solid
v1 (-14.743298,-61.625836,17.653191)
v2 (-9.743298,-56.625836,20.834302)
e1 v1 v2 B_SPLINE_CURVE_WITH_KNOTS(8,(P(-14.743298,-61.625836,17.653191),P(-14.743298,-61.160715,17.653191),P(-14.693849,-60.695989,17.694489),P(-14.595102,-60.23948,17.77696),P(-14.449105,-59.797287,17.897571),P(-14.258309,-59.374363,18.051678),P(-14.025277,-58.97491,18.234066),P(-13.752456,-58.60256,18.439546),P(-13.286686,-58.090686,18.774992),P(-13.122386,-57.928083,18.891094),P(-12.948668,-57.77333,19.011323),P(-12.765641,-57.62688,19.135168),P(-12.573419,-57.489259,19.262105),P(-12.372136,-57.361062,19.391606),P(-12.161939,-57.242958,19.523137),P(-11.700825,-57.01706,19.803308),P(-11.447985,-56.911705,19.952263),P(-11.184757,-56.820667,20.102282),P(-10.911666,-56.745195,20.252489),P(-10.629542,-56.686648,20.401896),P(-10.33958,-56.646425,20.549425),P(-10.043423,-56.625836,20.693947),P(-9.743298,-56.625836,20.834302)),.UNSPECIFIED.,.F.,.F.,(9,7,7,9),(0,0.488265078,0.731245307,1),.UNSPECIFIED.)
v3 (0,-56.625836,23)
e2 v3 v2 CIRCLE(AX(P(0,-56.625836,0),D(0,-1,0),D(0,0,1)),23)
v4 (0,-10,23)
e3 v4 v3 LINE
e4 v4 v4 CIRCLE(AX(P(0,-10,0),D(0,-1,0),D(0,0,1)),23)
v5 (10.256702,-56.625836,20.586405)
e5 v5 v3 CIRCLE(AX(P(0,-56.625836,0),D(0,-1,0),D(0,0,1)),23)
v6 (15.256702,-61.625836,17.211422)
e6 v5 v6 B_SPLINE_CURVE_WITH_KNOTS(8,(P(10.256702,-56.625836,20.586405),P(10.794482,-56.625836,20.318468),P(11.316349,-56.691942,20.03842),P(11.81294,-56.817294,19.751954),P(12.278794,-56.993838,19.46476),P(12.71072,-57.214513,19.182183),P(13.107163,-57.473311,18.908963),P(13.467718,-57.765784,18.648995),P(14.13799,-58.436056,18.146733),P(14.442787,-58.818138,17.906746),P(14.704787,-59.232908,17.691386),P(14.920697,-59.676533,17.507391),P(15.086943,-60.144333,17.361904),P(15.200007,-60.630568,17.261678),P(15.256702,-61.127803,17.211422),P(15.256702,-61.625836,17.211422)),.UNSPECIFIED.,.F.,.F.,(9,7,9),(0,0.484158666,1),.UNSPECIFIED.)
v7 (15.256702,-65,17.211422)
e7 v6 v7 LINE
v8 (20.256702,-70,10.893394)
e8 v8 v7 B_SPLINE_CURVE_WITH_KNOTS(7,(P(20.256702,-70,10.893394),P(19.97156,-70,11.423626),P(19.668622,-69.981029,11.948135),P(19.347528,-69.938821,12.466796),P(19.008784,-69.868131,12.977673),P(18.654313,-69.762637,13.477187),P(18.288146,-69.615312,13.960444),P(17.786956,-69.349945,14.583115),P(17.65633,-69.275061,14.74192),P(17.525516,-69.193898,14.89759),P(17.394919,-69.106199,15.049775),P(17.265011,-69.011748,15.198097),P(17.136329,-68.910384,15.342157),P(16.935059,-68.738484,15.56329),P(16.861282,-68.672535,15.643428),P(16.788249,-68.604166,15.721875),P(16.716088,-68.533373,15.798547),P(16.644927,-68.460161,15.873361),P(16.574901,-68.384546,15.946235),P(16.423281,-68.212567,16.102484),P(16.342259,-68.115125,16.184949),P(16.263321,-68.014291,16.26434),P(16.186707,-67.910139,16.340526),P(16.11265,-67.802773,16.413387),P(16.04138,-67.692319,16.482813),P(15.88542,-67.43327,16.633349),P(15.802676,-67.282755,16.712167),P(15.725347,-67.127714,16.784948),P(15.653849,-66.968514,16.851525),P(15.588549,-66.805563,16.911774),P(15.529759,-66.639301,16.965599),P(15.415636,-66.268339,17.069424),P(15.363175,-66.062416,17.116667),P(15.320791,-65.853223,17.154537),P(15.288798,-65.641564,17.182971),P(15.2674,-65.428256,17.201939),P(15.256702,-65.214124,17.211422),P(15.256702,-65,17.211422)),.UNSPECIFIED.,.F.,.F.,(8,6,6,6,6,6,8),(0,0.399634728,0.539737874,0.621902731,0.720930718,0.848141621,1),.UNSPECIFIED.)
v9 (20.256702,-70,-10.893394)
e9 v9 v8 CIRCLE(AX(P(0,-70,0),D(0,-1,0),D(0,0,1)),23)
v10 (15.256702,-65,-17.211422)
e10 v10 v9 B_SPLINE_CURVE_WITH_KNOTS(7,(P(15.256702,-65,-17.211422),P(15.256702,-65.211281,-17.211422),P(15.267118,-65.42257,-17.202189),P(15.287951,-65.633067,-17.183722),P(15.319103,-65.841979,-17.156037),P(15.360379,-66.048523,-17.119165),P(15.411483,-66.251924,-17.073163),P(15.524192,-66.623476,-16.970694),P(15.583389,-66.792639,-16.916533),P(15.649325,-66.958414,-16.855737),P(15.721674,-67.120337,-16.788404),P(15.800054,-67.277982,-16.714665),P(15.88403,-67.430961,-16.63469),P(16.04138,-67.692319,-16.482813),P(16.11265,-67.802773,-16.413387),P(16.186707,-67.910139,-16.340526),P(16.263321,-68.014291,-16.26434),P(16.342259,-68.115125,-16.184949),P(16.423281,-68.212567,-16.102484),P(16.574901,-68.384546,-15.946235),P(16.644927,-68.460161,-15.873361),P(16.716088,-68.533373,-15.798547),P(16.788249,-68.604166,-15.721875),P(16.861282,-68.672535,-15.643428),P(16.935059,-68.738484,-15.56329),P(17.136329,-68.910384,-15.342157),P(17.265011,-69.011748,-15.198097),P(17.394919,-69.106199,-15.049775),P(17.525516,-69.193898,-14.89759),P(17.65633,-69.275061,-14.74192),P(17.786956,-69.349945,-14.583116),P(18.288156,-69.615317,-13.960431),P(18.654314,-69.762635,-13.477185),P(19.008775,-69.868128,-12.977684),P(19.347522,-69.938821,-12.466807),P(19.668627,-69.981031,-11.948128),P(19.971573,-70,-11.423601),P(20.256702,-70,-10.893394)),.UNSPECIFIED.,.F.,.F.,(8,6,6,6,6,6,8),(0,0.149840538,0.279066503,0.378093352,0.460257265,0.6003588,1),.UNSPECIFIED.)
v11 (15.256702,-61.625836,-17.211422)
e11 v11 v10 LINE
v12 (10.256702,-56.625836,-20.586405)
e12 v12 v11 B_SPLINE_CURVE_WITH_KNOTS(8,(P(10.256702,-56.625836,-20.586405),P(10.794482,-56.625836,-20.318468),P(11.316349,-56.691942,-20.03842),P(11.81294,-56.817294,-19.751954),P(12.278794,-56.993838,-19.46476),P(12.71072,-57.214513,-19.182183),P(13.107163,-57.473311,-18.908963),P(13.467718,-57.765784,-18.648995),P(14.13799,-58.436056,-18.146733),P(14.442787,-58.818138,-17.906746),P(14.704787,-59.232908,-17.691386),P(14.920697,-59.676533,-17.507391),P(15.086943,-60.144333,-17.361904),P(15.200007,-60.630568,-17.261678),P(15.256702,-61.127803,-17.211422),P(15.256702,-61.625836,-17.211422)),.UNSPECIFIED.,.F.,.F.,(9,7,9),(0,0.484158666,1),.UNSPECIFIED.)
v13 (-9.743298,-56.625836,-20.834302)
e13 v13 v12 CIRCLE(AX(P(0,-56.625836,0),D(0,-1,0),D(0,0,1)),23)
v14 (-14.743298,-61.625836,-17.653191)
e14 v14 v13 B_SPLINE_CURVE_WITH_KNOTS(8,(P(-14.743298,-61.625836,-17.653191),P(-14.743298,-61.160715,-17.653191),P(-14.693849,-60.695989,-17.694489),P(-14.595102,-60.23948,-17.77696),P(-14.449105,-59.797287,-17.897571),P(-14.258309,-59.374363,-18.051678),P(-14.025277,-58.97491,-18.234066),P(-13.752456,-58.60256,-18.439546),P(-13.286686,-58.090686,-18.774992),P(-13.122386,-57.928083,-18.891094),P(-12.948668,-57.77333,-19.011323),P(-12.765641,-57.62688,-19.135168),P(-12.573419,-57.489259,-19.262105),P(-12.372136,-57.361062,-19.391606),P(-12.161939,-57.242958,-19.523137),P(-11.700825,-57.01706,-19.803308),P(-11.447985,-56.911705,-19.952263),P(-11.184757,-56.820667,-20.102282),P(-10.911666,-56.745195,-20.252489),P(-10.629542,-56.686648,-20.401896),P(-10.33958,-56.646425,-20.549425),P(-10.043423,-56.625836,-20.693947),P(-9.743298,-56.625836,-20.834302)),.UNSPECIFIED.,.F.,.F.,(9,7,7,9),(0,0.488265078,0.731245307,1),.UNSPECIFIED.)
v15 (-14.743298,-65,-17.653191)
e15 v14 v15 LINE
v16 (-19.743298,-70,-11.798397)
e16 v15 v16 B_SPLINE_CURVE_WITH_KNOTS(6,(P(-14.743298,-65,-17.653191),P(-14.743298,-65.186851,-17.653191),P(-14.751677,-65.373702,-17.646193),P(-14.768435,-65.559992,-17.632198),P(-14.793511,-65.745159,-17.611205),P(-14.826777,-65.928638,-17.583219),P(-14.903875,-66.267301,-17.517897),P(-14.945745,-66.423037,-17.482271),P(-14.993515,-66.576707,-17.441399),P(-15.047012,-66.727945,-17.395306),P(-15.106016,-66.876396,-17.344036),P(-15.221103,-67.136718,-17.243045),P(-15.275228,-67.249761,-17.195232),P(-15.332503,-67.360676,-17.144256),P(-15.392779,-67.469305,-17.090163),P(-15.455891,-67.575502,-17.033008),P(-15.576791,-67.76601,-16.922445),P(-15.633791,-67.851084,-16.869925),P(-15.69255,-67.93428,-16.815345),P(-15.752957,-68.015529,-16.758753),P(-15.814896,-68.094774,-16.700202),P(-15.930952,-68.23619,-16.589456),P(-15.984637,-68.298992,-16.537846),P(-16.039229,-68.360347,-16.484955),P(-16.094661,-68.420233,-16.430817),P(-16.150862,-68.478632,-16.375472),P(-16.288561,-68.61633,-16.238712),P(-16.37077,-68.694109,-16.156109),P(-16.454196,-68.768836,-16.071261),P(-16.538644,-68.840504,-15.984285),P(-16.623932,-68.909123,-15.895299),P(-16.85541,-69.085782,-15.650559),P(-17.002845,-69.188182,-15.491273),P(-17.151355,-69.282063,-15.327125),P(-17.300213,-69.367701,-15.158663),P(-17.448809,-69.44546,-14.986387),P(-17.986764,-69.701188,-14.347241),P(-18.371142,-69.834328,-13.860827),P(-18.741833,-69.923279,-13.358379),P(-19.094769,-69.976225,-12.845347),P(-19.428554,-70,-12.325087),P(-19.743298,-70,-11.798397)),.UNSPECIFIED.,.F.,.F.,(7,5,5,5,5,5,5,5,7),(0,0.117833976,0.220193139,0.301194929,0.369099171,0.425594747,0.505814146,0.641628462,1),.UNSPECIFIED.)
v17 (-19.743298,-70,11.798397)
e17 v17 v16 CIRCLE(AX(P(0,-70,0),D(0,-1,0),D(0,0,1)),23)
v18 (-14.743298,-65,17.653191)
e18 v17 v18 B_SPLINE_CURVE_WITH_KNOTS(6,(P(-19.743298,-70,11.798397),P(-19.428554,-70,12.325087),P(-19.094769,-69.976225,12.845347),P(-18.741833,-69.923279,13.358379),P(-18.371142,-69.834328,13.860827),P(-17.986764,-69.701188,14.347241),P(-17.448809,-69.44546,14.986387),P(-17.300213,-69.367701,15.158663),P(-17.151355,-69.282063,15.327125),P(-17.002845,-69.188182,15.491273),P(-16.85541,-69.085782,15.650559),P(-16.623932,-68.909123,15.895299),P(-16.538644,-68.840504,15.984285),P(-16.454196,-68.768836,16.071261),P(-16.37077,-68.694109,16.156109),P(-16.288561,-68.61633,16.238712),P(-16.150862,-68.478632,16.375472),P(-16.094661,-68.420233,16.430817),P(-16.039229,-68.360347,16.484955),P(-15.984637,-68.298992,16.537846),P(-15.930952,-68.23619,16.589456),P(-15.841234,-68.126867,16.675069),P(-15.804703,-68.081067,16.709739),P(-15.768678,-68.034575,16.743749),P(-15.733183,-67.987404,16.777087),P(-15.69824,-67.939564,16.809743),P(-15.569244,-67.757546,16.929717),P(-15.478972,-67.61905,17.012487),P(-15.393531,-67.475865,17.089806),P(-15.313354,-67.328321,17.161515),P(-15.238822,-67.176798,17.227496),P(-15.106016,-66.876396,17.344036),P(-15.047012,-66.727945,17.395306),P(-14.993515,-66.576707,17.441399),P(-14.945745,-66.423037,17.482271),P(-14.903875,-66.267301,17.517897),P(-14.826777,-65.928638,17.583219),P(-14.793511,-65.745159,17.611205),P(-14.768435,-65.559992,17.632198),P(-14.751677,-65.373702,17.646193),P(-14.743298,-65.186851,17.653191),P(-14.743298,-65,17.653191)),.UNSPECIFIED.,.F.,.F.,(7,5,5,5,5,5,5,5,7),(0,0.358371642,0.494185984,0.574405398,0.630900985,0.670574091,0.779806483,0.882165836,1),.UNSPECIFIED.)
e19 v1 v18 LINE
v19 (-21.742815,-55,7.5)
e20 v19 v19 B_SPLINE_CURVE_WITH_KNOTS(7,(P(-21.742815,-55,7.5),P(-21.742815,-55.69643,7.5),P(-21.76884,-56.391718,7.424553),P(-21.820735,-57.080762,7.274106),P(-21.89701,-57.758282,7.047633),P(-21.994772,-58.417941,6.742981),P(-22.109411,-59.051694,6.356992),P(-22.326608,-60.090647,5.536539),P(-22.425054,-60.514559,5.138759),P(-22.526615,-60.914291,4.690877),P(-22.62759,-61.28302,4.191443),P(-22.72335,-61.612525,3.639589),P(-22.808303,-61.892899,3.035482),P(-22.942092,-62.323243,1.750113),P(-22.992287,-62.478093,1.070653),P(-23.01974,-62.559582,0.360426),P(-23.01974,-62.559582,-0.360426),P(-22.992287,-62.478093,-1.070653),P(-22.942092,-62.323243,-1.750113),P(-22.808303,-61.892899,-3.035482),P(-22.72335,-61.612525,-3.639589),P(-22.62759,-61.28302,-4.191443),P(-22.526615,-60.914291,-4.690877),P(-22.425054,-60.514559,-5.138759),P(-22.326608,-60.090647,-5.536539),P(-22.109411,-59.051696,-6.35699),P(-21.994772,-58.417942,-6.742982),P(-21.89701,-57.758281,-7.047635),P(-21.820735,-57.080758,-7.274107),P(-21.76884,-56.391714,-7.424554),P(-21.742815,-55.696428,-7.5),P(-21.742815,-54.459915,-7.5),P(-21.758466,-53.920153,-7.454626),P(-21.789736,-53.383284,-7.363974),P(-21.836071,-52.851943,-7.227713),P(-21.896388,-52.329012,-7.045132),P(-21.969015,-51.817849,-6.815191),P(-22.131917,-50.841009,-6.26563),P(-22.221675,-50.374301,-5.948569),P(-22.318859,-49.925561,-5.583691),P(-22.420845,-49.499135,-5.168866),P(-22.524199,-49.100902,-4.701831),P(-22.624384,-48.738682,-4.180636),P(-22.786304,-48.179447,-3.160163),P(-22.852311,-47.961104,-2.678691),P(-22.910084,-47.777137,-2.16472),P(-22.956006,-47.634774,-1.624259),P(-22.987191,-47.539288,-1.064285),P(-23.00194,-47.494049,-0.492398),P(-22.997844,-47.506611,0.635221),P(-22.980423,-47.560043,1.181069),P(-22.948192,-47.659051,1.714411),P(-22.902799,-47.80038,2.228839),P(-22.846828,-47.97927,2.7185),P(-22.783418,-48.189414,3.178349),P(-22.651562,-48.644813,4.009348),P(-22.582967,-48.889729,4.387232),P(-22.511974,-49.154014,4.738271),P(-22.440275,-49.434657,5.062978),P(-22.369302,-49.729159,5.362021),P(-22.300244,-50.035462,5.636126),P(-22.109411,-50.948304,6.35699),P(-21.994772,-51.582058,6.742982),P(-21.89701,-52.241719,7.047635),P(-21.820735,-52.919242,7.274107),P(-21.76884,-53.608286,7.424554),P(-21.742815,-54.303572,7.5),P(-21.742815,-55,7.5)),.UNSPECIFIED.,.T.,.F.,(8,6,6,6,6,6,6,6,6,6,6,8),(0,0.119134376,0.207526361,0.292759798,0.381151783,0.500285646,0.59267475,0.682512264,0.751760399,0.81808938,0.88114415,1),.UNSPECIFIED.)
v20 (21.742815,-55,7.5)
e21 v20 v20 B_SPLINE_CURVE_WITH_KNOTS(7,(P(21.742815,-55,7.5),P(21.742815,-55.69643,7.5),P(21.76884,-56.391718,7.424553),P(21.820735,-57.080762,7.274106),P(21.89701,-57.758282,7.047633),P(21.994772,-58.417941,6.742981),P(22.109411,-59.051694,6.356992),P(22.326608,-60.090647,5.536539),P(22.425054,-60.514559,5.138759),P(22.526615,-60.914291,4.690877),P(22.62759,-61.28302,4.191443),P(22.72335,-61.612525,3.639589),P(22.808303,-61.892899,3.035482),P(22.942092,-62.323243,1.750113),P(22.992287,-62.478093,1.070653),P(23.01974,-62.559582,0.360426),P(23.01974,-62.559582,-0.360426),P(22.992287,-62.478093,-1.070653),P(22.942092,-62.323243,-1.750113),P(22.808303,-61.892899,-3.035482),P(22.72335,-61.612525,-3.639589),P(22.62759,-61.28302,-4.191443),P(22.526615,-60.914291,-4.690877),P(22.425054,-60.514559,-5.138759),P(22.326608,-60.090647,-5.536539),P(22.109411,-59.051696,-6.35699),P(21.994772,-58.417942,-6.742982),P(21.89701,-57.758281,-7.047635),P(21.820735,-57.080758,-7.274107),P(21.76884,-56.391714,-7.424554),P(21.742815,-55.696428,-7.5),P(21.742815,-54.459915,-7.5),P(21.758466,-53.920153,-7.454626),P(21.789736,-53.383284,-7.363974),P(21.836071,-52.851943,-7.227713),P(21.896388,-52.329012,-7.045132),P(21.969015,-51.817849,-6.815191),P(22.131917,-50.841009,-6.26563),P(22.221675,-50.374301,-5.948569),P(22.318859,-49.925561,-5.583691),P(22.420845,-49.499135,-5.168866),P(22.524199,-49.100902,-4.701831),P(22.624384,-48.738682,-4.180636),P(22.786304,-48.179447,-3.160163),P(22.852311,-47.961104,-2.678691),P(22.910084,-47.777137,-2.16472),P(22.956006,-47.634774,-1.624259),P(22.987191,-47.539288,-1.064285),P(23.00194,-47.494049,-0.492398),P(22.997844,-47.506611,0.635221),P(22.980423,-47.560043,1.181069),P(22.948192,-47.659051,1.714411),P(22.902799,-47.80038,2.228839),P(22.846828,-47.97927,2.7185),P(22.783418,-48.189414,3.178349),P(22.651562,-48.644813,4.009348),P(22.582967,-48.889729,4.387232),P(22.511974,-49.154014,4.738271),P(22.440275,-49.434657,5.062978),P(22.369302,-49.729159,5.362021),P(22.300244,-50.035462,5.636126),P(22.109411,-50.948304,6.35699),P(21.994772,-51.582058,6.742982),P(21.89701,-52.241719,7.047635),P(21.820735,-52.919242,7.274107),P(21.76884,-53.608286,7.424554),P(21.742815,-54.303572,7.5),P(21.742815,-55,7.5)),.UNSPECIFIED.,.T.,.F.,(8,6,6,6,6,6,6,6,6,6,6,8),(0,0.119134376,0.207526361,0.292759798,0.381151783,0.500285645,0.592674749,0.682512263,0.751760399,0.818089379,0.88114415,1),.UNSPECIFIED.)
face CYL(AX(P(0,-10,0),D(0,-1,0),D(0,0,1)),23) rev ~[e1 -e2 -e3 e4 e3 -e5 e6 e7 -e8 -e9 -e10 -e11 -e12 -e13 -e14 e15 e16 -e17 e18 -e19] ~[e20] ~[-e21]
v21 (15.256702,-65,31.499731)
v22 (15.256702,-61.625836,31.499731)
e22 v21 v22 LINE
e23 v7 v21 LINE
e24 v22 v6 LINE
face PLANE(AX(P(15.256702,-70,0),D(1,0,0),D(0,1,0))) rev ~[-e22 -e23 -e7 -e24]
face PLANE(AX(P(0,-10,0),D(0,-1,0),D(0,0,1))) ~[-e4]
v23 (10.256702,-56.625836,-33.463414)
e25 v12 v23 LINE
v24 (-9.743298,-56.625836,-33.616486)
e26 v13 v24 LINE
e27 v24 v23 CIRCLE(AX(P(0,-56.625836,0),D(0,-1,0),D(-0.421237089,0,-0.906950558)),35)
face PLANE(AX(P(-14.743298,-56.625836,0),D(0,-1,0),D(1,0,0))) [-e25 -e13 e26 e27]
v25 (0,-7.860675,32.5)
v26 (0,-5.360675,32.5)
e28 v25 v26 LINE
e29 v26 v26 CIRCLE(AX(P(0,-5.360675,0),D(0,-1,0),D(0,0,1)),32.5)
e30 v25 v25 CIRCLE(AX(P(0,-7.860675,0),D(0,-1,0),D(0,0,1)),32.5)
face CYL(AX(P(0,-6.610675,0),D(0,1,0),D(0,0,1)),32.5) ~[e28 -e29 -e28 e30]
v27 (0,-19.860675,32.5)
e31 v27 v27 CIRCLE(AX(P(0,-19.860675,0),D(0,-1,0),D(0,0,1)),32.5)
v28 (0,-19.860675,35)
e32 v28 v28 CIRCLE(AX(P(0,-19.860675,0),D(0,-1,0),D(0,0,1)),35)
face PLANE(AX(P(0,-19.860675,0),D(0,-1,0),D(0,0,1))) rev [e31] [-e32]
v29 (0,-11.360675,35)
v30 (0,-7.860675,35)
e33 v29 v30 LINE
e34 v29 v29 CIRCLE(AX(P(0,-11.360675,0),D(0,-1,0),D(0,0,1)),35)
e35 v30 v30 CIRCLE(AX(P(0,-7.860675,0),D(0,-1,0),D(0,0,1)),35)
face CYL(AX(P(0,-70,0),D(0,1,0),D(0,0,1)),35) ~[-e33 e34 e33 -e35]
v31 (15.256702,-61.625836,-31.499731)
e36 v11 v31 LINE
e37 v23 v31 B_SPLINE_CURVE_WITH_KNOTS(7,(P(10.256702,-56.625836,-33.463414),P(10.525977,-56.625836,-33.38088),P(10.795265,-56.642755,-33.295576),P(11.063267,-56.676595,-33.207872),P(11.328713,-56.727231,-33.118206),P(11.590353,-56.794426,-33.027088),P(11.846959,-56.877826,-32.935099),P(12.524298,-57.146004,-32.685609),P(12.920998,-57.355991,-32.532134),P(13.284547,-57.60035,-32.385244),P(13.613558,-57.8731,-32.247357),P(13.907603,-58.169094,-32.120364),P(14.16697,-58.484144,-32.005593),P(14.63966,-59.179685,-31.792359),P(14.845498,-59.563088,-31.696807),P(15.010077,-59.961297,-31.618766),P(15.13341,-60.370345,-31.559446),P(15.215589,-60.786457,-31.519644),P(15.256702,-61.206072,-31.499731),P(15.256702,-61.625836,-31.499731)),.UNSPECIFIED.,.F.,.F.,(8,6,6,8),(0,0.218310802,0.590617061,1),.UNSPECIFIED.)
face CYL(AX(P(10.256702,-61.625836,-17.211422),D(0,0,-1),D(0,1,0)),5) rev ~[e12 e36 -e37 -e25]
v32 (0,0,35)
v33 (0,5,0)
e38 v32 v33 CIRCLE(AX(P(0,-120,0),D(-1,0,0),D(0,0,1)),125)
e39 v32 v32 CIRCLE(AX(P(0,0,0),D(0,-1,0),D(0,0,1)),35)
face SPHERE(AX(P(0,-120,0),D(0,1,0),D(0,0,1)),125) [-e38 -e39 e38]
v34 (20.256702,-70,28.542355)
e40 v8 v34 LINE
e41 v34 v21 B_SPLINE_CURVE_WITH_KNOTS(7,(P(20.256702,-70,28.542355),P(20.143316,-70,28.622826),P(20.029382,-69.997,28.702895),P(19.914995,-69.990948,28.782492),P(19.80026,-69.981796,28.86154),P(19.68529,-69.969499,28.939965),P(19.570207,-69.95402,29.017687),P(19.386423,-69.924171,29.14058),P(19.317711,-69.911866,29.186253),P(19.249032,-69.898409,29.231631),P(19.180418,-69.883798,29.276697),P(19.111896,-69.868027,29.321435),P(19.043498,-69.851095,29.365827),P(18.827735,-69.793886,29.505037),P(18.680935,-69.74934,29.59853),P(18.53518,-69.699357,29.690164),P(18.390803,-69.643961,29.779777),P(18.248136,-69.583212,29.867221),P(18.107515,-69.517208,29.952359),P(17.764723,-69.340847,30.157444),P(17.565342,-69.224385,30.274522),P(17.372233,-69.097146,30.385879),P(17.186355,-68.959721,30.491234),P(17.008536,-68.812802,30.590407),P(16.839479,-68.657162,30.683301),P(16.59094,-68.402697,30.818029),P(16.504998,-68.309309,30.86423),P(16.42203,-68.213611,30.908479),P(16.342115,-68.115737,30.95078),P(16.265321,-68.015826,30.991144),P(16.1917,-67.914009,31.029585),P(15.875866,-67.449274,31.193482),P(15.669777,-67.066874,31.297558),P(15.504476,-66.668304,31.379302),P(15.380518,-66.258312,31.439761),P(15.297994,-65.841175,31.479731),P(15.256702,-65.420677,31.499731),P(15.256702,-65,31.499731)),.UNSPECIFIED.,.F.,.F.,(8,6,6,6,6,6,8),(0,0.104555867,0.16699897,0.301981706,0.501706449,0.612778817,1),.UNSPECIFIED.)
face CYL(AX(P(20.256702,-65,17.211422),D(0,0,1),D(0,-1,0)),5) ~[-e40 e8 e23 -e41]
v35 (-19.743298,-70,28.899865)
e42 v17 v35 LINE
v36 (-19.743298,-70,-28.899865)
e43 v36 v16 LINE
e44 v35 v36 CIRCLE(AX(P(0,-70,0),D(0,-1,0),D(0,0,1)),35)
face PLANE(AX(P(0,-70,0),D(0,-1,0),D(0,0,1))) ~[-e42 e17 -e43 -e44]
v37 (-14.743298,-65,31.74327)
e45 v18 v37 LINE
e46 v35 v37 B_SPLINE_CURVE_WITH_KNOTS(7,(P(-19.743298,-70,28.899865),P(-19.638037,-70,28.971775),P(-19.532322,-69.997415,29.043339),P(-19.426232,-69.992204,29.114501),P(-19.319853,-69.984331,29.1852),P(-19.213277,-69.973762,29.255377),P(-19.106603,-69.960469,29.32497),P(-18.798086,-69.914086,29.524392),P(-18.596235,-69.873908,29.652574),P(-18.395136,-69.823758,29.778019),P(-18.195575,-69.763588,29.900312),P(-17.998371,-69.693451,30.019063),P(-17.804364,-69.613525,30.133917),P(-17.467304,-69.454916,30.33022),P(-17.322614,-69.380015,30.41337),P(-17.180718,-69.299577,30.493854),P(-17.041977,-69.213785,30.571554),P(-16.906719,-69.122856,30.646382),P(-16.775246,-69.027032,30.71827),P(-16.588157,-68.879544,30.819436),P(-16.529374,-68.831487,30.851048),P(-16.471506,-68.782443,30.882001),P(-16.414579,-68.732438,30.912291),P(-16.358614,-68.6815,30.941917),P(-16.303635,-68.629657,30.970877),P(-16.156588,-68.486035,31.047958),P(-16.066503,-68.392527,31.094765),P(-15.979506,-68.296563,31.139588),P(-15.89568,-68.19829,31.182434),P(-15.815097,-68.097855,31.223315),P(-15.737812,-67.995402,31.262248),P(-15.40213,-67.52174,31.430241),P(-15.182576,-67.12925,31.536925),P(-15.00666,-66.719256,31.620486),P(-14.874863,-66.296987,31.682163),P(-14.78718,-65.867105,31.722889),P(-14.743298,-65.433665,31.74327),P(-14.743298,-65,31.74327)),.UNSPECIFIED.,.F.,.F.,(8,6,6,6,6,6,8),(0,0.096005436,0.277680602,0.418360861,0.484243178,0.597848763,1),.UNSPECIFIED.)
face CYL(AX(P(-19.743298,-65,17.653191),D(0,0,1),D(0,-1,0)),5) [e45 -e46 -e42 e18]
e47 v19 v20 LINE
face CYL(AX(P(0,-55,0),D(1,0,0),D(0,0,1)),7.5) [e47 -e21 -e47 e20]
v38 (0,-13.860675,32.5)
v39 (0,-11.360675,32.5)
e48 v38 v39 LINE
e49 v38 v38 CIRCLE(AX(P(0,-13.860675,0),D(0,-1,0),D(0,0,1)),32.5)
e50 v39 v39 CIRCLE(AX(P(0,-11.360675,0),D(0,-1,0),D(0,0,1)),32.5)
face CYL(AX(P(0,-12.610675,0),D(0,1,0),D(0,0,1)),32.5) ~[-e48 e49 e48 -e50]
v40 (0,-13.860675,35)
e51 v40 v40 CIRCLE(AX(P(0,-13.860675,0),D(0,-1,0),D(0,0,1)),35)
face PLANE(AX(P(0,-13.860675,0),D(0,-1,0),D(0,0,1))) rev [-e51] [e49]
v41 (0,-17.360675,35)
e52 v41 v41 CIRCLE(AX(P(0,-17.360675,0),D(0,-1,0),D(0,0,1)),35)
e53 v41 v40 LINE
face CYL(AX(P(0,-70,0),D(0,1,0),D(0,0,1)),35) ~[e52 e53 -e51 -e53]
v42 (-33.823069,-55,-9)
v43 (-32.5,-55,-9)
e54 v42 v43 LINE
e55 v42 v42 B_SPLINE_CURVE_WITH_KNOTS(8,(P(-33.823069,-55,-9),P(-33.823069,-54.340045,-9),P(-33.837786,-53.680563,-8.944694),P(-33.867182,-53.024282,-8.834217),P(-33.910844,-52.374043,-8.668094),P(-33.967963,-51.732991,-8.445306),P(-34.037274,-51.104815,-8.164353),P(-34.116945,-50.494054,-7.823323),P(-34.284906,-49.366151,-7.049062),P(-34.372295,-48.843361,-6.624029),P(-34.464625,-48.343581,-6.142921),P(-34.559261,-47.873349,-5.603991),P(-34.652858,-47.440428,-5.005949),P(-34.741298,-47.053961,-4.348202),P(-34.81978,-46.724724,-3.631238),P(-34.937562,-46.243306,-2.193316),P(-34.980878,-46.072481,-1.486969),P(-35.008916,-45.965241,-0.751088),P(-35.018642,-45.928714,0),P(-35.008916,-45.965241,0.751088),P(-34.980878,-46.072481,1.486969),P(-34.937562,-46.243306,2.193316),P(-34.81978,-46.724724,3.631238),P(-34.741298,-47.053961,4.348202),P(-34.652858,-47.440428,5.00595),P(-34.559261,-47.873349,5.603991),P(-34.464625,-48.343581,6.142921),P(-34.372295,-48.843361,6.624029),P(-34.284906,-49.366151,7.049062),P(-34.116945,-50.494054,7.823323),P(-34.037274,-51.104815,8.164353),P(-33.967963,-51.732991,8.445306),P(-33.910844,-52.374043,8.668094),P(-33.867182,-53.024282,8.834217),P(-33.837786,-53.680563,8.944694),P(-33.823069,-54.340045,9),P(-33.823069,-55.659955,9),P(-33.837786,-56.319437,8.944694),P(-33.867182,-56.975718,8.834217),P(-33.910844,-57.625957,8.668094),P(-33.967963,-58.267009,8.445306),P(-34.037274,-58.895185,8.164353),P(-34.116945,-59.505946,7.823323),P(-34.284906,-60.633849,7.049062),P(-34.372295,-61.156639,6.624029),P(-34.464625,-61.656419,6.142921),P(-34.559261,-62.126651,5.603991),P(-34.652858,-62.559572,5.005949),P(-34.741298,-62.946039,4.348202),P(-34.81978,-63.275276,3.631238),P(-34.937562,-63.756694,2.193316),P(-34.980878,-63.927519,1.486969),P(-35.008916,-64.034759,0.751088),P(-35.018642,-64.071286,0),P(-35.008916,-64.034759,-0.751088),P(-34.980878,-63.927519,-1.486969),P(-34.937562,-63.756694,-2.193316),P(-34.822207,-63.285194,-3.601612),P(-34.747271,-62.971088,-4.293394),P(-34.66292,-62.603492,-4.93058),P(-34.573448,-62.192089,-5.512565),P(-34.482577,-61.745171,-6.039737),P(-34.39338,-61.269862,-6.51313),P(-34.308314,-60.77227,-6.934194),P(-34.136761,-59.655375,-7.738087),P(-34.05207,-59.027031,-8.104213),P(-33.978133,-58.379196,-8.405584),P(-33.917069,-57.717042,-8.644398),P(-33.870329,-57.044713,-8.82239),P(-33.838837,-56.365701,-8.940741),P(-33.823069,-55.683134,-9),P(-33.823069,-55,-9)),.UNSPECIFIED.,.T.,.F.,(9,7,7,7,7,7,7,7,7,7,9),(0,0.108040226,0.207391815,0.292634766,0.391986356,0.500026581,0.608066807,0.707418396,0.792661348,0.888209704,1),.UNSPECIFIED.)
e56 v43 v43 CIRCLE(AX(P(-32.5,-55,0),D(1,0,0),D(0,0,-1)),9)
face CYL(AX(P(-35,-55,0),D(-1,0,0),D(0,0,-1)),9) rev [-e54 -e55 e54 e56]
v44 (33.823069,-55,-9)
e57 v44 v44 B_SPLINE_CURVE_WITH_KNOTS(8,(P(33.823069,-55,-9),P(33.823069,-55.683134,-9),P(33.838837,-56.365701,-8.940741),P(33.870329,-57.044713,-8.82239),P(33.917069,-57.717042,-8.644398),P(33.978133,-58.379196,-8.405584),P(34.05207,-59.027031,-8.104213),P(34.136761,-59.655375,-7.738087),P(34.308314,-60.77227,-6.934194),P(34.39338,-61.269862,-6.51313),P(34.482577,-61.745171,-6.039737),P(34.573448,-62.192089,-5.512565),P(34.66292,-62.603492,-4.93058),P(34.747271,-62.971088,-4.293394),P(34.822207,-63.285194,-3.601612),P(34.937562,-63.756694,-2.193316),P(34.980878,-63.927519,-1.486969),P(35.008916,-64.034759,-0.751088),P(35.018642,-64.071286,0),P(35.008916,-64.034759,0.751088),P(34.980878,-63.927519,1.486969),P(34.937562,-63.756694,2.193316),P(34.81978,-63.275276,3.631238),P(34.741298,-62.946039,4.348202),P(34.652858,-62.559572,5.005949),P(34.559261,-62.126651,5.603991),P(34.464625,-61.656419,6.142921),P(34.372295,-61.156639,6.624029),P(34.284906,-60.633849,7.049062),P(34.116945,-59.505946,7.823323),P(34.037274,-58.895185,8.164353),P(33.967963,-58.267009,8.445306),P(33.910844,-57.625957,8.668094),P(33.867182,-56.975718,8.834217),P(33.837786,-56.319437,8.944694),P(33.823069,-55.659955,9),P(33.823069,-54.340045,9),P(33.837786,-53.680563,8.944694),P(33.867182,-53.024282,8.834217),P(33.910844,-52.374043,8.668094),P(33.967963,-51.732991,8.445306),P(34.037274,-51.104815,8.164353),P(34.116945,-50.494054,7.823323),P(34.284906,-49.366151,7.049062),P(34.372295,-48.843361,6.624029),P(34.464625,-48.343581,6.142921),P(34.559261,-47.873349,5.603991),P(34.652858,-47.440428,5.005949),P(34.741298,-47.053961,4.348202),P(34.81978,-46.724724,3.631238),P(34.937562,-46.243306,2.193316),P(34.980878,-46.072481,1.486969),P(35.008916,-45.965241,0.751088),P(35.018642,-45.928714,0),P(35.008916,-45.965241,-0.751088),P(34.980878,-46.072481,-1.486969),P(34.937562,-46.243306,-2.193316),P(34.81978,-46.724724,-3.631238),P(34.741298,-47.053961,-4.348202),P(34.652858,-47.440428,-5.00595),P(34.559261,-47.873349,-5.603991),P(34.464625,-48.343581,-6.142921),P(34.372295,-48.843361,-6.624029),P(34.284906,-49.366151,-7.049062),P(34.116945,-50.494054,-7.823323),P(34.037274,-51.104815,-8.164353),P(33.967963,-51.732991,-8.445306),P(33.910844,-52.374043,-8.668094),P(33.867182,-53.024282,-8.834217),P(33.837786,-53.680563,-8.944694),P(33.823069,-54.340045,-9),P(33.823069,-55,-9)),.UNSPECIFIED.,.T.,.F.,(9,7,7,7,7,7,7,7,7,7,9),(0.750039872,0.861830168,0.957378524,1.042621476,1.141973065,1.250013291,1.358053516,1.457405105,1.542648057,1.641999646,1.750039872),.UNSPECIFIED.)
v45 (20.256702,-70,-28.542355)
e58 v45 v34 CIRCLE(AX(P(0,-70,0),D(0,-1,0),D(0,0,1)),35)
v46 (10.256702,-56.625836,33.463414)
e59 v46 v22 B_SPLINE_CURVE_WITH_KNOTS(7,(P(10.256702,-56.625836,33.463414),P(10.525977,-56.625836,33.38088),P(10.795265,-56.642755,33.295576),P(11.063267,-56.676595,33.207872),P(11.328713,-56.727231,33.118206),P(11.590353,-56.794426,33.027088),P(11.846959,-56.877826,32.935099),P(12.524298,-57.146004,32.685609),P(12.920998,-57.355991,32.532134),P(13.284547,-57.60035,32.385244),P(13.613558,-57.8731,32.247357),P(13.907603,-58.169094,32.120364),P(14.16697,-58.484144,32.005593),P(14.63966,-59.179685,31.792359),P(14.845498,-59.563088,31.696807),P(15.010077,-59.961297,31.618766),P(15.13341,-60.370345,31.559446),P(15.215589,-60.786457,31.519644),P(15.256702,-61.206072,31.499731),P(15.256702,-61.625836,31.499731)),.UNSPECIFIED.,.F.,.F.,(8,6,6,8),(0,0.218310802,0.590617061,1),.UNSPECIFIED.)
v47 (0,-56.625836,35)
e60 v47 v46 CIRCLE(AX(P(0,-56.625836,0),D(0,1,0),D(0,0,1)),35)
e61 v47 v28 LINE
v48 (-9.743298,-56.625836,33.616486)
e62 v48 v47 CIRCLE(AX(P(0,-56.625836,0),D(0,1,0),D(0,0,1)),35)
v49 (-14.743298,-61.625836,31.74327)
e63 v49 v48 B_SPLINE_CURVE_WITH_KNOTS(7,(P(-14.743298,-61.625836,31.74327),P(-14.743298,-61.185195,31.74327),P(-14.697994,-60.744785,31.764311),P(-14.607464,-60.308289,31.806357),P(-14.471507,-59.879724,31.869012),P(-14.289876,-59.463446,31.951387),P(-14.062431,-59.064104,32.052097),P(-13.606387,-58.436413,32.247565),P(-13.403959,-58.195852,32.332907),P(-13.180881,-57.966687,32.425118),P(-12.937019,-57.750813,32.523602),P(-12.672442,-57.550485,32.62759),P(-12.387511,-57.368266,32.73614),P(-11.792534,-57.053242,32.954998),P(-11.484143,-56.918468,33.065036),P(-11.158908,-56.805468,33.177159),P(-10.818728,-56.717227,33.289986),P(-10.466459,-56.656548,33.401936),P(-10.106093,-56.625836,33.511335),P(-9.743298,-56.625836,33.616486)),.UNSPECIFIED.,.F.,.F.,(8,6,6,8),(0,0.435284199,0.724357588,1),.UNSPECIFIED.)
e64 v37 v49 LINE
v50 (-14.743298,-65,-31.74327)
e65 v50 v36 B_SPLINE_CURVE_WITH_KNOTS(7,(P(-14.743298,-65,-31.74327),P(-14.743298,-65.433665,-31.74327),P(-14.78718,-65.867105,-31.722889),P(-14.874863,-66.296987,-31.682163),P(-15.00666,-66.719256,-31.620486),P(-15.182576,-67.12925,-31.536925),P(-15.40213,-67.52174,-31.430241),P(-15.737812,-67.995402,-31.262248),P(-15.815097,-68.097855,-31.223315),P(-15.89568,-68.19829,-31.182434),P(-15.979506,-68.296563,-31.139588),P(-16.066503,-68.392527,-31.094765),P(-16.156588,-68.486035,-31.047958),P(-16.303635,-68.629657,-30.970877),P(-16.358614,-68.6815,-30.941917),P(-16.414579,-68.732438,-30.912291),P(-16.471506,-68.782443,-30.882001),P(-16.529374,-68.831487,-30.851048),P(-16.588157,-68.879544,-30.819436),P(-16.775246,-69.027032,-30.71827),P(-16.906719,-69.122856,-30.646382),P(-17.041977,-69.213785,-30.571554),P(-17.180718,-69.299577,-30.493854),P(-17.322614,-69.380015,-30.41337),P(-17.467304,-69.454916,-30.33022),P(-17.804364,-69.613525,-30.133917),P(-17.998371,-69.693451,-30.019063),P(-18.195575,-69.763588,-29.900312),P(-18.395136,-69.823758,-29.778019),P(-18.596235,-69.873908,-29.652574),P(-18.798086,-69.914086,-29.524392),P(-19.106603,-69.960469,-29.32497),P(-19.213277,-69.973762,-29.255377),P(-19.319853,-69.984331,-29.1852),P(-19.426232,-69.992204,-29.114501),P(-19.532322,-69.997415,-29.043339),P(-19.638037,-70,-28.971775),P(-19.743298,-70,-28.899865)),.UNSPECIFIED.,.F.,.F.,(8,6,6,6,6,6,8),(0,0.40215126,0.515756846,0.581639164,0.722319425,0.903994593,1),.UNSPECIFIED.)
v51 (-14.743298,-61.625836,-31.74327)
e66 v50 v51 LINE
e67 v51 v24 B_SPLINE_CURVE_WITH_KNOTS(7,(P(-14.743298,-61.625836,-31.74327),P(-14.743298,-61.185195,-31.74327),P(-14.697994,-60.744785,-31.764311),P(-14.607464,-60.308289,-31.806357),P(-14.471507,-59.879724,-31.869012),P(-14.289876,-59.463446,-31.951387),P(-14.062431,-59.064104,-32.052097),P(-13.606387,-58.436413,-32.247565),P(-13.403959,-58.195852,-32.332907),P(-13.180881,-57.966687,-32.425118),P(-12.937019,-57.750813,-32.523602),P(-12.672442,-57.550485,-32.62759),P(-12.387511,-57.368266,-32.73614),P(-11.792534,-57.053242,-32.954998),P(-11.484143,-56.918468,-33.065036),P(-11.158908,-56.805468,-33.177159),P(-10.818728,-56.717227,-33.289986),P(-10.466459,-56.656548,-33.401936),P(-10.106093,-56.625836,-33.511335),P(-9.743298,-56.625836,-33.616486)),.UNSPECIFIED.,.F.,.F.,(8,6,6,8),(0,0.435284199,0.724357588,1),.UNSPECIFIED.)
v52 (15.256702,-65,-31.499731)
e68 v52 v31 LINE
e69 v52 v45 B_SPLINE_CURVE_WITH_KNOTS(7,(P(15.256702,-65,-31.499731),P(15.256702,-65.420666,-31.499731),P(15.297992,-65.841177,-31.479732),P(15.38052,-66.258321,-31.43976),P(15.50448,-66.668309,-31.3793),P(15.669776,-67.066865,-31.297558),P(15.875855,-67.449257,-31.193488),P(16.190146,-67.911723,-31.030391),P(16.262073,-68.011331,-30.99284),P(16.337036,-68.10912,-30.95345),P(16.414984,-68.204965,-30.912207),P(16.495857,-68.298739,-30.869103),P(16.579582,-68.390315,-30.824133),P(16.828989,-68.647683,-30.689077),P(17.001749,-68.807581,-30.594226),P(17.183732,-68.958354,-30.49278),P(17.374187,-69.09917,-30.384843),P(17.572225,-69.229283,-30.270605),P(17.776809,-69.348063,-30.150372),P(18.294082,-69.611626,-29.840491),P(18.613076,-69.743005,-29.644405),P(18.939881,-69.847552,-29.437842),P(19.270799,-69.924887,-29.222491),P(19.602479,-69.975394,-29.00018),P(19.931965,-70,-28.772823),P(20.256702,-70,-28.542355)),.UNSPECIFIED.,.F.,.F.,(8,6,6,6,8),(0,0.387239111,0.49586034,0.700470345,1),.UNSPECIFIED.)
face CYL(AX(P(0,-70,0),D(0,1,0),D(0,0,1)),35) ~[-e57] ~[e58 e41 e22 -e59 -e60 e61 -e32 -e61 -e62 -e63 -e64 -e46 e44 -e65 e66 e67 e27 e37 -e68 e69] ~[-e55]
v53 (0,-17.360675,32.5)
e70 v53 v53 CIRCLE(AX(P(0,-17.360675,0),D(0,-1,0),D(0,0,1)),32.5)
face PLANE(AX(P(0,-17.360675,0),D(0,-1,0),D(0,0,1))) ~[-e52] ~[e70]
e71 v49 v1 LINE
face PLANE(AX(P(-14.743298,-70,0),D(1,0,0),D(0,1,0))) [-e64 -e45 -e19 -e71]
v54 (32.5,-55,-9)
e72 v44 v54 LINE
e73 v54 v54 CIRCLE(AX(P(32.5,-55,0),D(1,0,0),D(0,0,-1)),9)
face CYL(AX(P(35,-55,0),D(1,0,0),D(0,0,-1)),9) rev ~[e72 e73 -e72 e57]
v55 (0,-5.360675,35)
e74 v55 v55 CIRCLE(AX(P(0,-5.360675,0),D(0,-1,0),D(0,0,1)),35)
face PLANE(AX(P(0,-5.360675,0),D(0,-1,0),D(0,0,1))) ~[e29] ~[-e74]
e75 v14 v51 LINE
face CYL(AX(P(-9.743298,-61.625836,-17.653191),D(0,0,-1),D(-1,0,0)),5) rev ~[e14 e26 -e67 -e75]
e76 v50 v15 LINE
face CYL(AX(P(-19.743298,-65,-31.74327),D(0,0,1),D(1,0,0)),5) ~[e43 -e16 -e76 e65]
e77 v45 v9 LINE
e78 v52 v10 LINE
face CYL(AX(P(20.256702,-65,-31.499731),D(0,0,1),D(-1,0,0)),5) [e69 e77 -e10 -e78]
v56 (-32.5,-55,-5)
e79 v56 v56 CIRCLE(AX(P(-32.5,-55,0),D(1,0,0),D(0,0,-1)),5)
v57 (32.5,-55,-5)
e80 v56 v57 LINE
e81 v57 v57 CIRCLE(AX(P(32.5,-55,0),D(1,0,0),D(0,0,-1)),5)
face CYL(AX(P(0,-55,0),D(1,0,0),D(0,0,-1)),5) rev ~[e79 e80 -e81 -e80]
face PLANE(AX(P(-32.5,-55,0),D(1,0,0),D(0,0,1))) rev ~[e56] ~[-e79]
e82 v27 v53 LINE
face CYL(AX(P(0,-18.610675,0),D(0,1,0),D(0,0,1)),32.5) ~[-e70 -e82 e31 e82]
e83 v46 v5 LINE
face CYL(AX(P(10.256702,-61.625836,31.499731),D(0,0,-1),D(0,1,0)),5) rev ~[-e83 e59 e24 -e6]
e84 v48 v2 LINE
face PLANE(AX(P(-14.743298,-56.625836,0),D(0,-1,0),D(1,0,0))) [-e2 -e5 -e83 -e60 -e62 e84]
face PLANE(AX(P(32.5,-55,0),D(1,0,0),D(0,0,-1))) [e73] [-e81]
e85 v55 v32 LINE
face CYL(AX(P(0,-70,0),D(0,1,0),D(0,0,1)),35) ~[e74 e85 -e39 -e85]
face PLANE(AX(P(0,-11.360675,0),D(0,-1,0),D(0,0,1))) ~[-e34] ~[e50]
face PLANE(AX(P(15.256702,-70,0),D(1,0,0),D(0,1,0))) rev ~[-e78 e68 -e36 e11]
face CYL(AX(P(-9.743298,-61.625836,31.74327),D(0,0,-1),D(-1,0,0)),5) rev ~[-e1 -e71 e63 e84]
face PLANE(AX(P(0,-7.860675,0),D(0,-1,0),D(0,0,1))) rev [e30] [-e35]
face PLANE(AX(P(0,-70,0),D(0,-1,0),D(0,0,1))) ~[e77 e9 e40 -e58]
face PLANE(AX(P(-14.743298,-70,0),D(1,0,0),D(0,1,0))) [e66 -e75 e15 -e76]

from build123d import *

# Parameters (mm, degrees)
SKETCH3_W           = 2.5
SKETCH3_H           = 2.5
LPATTERN2_COUNT     = 3
LPATTERN2_PITCH     = 6
SKETCH6_W           = 30
SKETCH6_H           = 13.374164213
CUT_EXTRUDE1_DEPTH  = 35
FILLET1_R           = 5
FILLET2_R           = 5
FILLET3_R           = 5
DOME1_FACE_RADIUS   = 35
DOME1_HEIGHT        = 5
SKETCH8_R           = 9
CUT_EXTRUDE2_DEPTH  = 2.5
SKETCH9_R           = 7.5
BOSS_EXTRUDE1_DEPTH = 32.5
SKETCH10_R          = 5
CUT_EXTRUDE3_DEPTH  = 32.5


with BuildPart() as part:
    # Sketch2 → Revolve1 (revolve)
    with BuildSketch(Plane.XY, mode=Mode.PRIVATE) as revolve1_sk:
        Polygon((0, 0), (0, -10), (23, -10), (23, -70), (35, -70), (35, 0), align=None)
    revolve(revolve1_sk.sketch.rotate(Axis((0, 0, 0), (0, -1, 0)), 90), axis=Axis((0, 0, 0), (0, -1, 0)))

    # Sketch3 → Cut-Revolve2 (revolve, cut)
    with BuildSketch(Plane.XY, mode=Mode.PRIVATE) as cut_revolve2_sk:
        with Locations((33.75, -6.610674558)):
            Rectangle(SKETCH3_W, SKETCH3_H)
    cut_revolve2 = revolve(cut_revolve2_sk.sketch.rotate(Axis((0, 0, 0), (0, -1, 0)), 90), axis=Axis((0, 0, 0), (0, -1, 0)), mode=Mode.SUBTRACT)

    # LPattern2: Cut-Revolve2 ×3
    with Locations(*[(0, -i * LPATTERN2_PITCH, 0) for i in range(1, LPATTERN2_COUNT)]):
        add(cut_revolve2, mode=Mode.SUBTRACT)

    # Sketch6 → Cut-Extrude1 (cut, symmetric)
    with BuildSketch(Plane.XY):
        with Locations((0.25670187, -63.312917893)):
            Rectangle(SKETCH6_W, SKETCH6_H)
    extrude(amount=CUT_EXTRUDE1_DEPTH, both=True, mode=Mode.SUBTRACT)

    # Fillet1
    fillet1_edges = [part.edges().sort_by_distance(p)[0] for p in [
        (-14.74329813, -56.625835787, 24.698230373),
    ]]
    fillet(fillet1_edges, radius=FILLET1_R)

    # Fillet2
    fillet2_edges = [part.edges().sort_by_distance(p)[0] for p in [
        (15.25670187, -56.625835787, 24.355576471),
        (-14.74329813, -56.625835787, -24.698230373),
        (15.25670187, -56.625835787, -24.355576471),
    ]]
    fillet(fillet2_edges, radius=FILLET2_R)

    # Fillet3
    fillet3_edges = [part.edges().sort_by_distance(p)[0] for p in [
        (15.25670187, -70, 24.355576471),
        (-14.74329813, -70, 24.698230373),
        (15.25670187, -70, -24.355576471),
        (-14.74329813, -70, -24.698230373),
    ]]
    fillet(fillet3_edges, radius=FILLET3_R)

    # Dome1: a dome of height H over a round flat face of radius A is a cap of a sphere of radius (A * A + H * H) / (2 * H)
    dome1_r = (DOME1_FACE_RADIUS * DOME1_FACE_RADIUS + DOME1_HEIGHT * DOME1_HEIGHT) / (2 * DOME1_HEIGHT)
    dome1_base = Plane((0, 0, 0), z_dir=(0, 1, 0))
    with Locations(dome1_base.offset(DOME1_HEIGHT - dome1_r)):
        dome1_ball = Sphere(dome1_r, mode=Mode.PRIVATE)
    add(split(dome1_ball, bisect_by=dome1_base, keep=Keep.TOP, mode=Mode.PRIVATE))

    # Sketch8 → Cut-Extrude2 (cut)
    with BuildSketch(Plane(origin=(35, 0, 0), x_dir=(0, 0, -1), z_dir=(1, 0, 0))):
        with Locations((0, -55)):
            Circle(SKETCH8_R)
    cut_extrude2 = extrude(amount=-CUT_EXTRUDE2_DEPTH, mode=Mode.SUBTRACT)

    # Mirror1: Cut-Extrude2 across plane
    add(cut_extrude2.mirror(Plane(origin=(0, 0, 0), x_dir=(0, 0, 1), z_dir=(1, 0, 0))), mode=Mode.SUBTRACT)

    # Sketch9 → Boss-Extrude1 (add, symmetric)
    with BuildSketch(Plane(origin=(0, 0, 0), x_dir=(0, 0, -1), z_dir=(1, 0, 0))):
        with Locations(Location((0, -55, 0), (0, 0, 180))):
            Circle(SKETCH9_R)
    extrude(amount=BOSS_EXTRUDE1_DEPTH, both=True)

    # Sketch10 → Cut-Extrude3 (cut, symmetric)
    with BuildSketch(Plane(origin=(0, 0, 0), x_dir=(0, 0, -1), z_dir=(1, 0, 0))):
        with Locations((0, -55)):
            Circle(SKETCH10_R)
    extrude(amount=CUT_EXTRUDE3_DEPTH, both=True, mode=Mode.SUBTRACT)


solid = part.part
